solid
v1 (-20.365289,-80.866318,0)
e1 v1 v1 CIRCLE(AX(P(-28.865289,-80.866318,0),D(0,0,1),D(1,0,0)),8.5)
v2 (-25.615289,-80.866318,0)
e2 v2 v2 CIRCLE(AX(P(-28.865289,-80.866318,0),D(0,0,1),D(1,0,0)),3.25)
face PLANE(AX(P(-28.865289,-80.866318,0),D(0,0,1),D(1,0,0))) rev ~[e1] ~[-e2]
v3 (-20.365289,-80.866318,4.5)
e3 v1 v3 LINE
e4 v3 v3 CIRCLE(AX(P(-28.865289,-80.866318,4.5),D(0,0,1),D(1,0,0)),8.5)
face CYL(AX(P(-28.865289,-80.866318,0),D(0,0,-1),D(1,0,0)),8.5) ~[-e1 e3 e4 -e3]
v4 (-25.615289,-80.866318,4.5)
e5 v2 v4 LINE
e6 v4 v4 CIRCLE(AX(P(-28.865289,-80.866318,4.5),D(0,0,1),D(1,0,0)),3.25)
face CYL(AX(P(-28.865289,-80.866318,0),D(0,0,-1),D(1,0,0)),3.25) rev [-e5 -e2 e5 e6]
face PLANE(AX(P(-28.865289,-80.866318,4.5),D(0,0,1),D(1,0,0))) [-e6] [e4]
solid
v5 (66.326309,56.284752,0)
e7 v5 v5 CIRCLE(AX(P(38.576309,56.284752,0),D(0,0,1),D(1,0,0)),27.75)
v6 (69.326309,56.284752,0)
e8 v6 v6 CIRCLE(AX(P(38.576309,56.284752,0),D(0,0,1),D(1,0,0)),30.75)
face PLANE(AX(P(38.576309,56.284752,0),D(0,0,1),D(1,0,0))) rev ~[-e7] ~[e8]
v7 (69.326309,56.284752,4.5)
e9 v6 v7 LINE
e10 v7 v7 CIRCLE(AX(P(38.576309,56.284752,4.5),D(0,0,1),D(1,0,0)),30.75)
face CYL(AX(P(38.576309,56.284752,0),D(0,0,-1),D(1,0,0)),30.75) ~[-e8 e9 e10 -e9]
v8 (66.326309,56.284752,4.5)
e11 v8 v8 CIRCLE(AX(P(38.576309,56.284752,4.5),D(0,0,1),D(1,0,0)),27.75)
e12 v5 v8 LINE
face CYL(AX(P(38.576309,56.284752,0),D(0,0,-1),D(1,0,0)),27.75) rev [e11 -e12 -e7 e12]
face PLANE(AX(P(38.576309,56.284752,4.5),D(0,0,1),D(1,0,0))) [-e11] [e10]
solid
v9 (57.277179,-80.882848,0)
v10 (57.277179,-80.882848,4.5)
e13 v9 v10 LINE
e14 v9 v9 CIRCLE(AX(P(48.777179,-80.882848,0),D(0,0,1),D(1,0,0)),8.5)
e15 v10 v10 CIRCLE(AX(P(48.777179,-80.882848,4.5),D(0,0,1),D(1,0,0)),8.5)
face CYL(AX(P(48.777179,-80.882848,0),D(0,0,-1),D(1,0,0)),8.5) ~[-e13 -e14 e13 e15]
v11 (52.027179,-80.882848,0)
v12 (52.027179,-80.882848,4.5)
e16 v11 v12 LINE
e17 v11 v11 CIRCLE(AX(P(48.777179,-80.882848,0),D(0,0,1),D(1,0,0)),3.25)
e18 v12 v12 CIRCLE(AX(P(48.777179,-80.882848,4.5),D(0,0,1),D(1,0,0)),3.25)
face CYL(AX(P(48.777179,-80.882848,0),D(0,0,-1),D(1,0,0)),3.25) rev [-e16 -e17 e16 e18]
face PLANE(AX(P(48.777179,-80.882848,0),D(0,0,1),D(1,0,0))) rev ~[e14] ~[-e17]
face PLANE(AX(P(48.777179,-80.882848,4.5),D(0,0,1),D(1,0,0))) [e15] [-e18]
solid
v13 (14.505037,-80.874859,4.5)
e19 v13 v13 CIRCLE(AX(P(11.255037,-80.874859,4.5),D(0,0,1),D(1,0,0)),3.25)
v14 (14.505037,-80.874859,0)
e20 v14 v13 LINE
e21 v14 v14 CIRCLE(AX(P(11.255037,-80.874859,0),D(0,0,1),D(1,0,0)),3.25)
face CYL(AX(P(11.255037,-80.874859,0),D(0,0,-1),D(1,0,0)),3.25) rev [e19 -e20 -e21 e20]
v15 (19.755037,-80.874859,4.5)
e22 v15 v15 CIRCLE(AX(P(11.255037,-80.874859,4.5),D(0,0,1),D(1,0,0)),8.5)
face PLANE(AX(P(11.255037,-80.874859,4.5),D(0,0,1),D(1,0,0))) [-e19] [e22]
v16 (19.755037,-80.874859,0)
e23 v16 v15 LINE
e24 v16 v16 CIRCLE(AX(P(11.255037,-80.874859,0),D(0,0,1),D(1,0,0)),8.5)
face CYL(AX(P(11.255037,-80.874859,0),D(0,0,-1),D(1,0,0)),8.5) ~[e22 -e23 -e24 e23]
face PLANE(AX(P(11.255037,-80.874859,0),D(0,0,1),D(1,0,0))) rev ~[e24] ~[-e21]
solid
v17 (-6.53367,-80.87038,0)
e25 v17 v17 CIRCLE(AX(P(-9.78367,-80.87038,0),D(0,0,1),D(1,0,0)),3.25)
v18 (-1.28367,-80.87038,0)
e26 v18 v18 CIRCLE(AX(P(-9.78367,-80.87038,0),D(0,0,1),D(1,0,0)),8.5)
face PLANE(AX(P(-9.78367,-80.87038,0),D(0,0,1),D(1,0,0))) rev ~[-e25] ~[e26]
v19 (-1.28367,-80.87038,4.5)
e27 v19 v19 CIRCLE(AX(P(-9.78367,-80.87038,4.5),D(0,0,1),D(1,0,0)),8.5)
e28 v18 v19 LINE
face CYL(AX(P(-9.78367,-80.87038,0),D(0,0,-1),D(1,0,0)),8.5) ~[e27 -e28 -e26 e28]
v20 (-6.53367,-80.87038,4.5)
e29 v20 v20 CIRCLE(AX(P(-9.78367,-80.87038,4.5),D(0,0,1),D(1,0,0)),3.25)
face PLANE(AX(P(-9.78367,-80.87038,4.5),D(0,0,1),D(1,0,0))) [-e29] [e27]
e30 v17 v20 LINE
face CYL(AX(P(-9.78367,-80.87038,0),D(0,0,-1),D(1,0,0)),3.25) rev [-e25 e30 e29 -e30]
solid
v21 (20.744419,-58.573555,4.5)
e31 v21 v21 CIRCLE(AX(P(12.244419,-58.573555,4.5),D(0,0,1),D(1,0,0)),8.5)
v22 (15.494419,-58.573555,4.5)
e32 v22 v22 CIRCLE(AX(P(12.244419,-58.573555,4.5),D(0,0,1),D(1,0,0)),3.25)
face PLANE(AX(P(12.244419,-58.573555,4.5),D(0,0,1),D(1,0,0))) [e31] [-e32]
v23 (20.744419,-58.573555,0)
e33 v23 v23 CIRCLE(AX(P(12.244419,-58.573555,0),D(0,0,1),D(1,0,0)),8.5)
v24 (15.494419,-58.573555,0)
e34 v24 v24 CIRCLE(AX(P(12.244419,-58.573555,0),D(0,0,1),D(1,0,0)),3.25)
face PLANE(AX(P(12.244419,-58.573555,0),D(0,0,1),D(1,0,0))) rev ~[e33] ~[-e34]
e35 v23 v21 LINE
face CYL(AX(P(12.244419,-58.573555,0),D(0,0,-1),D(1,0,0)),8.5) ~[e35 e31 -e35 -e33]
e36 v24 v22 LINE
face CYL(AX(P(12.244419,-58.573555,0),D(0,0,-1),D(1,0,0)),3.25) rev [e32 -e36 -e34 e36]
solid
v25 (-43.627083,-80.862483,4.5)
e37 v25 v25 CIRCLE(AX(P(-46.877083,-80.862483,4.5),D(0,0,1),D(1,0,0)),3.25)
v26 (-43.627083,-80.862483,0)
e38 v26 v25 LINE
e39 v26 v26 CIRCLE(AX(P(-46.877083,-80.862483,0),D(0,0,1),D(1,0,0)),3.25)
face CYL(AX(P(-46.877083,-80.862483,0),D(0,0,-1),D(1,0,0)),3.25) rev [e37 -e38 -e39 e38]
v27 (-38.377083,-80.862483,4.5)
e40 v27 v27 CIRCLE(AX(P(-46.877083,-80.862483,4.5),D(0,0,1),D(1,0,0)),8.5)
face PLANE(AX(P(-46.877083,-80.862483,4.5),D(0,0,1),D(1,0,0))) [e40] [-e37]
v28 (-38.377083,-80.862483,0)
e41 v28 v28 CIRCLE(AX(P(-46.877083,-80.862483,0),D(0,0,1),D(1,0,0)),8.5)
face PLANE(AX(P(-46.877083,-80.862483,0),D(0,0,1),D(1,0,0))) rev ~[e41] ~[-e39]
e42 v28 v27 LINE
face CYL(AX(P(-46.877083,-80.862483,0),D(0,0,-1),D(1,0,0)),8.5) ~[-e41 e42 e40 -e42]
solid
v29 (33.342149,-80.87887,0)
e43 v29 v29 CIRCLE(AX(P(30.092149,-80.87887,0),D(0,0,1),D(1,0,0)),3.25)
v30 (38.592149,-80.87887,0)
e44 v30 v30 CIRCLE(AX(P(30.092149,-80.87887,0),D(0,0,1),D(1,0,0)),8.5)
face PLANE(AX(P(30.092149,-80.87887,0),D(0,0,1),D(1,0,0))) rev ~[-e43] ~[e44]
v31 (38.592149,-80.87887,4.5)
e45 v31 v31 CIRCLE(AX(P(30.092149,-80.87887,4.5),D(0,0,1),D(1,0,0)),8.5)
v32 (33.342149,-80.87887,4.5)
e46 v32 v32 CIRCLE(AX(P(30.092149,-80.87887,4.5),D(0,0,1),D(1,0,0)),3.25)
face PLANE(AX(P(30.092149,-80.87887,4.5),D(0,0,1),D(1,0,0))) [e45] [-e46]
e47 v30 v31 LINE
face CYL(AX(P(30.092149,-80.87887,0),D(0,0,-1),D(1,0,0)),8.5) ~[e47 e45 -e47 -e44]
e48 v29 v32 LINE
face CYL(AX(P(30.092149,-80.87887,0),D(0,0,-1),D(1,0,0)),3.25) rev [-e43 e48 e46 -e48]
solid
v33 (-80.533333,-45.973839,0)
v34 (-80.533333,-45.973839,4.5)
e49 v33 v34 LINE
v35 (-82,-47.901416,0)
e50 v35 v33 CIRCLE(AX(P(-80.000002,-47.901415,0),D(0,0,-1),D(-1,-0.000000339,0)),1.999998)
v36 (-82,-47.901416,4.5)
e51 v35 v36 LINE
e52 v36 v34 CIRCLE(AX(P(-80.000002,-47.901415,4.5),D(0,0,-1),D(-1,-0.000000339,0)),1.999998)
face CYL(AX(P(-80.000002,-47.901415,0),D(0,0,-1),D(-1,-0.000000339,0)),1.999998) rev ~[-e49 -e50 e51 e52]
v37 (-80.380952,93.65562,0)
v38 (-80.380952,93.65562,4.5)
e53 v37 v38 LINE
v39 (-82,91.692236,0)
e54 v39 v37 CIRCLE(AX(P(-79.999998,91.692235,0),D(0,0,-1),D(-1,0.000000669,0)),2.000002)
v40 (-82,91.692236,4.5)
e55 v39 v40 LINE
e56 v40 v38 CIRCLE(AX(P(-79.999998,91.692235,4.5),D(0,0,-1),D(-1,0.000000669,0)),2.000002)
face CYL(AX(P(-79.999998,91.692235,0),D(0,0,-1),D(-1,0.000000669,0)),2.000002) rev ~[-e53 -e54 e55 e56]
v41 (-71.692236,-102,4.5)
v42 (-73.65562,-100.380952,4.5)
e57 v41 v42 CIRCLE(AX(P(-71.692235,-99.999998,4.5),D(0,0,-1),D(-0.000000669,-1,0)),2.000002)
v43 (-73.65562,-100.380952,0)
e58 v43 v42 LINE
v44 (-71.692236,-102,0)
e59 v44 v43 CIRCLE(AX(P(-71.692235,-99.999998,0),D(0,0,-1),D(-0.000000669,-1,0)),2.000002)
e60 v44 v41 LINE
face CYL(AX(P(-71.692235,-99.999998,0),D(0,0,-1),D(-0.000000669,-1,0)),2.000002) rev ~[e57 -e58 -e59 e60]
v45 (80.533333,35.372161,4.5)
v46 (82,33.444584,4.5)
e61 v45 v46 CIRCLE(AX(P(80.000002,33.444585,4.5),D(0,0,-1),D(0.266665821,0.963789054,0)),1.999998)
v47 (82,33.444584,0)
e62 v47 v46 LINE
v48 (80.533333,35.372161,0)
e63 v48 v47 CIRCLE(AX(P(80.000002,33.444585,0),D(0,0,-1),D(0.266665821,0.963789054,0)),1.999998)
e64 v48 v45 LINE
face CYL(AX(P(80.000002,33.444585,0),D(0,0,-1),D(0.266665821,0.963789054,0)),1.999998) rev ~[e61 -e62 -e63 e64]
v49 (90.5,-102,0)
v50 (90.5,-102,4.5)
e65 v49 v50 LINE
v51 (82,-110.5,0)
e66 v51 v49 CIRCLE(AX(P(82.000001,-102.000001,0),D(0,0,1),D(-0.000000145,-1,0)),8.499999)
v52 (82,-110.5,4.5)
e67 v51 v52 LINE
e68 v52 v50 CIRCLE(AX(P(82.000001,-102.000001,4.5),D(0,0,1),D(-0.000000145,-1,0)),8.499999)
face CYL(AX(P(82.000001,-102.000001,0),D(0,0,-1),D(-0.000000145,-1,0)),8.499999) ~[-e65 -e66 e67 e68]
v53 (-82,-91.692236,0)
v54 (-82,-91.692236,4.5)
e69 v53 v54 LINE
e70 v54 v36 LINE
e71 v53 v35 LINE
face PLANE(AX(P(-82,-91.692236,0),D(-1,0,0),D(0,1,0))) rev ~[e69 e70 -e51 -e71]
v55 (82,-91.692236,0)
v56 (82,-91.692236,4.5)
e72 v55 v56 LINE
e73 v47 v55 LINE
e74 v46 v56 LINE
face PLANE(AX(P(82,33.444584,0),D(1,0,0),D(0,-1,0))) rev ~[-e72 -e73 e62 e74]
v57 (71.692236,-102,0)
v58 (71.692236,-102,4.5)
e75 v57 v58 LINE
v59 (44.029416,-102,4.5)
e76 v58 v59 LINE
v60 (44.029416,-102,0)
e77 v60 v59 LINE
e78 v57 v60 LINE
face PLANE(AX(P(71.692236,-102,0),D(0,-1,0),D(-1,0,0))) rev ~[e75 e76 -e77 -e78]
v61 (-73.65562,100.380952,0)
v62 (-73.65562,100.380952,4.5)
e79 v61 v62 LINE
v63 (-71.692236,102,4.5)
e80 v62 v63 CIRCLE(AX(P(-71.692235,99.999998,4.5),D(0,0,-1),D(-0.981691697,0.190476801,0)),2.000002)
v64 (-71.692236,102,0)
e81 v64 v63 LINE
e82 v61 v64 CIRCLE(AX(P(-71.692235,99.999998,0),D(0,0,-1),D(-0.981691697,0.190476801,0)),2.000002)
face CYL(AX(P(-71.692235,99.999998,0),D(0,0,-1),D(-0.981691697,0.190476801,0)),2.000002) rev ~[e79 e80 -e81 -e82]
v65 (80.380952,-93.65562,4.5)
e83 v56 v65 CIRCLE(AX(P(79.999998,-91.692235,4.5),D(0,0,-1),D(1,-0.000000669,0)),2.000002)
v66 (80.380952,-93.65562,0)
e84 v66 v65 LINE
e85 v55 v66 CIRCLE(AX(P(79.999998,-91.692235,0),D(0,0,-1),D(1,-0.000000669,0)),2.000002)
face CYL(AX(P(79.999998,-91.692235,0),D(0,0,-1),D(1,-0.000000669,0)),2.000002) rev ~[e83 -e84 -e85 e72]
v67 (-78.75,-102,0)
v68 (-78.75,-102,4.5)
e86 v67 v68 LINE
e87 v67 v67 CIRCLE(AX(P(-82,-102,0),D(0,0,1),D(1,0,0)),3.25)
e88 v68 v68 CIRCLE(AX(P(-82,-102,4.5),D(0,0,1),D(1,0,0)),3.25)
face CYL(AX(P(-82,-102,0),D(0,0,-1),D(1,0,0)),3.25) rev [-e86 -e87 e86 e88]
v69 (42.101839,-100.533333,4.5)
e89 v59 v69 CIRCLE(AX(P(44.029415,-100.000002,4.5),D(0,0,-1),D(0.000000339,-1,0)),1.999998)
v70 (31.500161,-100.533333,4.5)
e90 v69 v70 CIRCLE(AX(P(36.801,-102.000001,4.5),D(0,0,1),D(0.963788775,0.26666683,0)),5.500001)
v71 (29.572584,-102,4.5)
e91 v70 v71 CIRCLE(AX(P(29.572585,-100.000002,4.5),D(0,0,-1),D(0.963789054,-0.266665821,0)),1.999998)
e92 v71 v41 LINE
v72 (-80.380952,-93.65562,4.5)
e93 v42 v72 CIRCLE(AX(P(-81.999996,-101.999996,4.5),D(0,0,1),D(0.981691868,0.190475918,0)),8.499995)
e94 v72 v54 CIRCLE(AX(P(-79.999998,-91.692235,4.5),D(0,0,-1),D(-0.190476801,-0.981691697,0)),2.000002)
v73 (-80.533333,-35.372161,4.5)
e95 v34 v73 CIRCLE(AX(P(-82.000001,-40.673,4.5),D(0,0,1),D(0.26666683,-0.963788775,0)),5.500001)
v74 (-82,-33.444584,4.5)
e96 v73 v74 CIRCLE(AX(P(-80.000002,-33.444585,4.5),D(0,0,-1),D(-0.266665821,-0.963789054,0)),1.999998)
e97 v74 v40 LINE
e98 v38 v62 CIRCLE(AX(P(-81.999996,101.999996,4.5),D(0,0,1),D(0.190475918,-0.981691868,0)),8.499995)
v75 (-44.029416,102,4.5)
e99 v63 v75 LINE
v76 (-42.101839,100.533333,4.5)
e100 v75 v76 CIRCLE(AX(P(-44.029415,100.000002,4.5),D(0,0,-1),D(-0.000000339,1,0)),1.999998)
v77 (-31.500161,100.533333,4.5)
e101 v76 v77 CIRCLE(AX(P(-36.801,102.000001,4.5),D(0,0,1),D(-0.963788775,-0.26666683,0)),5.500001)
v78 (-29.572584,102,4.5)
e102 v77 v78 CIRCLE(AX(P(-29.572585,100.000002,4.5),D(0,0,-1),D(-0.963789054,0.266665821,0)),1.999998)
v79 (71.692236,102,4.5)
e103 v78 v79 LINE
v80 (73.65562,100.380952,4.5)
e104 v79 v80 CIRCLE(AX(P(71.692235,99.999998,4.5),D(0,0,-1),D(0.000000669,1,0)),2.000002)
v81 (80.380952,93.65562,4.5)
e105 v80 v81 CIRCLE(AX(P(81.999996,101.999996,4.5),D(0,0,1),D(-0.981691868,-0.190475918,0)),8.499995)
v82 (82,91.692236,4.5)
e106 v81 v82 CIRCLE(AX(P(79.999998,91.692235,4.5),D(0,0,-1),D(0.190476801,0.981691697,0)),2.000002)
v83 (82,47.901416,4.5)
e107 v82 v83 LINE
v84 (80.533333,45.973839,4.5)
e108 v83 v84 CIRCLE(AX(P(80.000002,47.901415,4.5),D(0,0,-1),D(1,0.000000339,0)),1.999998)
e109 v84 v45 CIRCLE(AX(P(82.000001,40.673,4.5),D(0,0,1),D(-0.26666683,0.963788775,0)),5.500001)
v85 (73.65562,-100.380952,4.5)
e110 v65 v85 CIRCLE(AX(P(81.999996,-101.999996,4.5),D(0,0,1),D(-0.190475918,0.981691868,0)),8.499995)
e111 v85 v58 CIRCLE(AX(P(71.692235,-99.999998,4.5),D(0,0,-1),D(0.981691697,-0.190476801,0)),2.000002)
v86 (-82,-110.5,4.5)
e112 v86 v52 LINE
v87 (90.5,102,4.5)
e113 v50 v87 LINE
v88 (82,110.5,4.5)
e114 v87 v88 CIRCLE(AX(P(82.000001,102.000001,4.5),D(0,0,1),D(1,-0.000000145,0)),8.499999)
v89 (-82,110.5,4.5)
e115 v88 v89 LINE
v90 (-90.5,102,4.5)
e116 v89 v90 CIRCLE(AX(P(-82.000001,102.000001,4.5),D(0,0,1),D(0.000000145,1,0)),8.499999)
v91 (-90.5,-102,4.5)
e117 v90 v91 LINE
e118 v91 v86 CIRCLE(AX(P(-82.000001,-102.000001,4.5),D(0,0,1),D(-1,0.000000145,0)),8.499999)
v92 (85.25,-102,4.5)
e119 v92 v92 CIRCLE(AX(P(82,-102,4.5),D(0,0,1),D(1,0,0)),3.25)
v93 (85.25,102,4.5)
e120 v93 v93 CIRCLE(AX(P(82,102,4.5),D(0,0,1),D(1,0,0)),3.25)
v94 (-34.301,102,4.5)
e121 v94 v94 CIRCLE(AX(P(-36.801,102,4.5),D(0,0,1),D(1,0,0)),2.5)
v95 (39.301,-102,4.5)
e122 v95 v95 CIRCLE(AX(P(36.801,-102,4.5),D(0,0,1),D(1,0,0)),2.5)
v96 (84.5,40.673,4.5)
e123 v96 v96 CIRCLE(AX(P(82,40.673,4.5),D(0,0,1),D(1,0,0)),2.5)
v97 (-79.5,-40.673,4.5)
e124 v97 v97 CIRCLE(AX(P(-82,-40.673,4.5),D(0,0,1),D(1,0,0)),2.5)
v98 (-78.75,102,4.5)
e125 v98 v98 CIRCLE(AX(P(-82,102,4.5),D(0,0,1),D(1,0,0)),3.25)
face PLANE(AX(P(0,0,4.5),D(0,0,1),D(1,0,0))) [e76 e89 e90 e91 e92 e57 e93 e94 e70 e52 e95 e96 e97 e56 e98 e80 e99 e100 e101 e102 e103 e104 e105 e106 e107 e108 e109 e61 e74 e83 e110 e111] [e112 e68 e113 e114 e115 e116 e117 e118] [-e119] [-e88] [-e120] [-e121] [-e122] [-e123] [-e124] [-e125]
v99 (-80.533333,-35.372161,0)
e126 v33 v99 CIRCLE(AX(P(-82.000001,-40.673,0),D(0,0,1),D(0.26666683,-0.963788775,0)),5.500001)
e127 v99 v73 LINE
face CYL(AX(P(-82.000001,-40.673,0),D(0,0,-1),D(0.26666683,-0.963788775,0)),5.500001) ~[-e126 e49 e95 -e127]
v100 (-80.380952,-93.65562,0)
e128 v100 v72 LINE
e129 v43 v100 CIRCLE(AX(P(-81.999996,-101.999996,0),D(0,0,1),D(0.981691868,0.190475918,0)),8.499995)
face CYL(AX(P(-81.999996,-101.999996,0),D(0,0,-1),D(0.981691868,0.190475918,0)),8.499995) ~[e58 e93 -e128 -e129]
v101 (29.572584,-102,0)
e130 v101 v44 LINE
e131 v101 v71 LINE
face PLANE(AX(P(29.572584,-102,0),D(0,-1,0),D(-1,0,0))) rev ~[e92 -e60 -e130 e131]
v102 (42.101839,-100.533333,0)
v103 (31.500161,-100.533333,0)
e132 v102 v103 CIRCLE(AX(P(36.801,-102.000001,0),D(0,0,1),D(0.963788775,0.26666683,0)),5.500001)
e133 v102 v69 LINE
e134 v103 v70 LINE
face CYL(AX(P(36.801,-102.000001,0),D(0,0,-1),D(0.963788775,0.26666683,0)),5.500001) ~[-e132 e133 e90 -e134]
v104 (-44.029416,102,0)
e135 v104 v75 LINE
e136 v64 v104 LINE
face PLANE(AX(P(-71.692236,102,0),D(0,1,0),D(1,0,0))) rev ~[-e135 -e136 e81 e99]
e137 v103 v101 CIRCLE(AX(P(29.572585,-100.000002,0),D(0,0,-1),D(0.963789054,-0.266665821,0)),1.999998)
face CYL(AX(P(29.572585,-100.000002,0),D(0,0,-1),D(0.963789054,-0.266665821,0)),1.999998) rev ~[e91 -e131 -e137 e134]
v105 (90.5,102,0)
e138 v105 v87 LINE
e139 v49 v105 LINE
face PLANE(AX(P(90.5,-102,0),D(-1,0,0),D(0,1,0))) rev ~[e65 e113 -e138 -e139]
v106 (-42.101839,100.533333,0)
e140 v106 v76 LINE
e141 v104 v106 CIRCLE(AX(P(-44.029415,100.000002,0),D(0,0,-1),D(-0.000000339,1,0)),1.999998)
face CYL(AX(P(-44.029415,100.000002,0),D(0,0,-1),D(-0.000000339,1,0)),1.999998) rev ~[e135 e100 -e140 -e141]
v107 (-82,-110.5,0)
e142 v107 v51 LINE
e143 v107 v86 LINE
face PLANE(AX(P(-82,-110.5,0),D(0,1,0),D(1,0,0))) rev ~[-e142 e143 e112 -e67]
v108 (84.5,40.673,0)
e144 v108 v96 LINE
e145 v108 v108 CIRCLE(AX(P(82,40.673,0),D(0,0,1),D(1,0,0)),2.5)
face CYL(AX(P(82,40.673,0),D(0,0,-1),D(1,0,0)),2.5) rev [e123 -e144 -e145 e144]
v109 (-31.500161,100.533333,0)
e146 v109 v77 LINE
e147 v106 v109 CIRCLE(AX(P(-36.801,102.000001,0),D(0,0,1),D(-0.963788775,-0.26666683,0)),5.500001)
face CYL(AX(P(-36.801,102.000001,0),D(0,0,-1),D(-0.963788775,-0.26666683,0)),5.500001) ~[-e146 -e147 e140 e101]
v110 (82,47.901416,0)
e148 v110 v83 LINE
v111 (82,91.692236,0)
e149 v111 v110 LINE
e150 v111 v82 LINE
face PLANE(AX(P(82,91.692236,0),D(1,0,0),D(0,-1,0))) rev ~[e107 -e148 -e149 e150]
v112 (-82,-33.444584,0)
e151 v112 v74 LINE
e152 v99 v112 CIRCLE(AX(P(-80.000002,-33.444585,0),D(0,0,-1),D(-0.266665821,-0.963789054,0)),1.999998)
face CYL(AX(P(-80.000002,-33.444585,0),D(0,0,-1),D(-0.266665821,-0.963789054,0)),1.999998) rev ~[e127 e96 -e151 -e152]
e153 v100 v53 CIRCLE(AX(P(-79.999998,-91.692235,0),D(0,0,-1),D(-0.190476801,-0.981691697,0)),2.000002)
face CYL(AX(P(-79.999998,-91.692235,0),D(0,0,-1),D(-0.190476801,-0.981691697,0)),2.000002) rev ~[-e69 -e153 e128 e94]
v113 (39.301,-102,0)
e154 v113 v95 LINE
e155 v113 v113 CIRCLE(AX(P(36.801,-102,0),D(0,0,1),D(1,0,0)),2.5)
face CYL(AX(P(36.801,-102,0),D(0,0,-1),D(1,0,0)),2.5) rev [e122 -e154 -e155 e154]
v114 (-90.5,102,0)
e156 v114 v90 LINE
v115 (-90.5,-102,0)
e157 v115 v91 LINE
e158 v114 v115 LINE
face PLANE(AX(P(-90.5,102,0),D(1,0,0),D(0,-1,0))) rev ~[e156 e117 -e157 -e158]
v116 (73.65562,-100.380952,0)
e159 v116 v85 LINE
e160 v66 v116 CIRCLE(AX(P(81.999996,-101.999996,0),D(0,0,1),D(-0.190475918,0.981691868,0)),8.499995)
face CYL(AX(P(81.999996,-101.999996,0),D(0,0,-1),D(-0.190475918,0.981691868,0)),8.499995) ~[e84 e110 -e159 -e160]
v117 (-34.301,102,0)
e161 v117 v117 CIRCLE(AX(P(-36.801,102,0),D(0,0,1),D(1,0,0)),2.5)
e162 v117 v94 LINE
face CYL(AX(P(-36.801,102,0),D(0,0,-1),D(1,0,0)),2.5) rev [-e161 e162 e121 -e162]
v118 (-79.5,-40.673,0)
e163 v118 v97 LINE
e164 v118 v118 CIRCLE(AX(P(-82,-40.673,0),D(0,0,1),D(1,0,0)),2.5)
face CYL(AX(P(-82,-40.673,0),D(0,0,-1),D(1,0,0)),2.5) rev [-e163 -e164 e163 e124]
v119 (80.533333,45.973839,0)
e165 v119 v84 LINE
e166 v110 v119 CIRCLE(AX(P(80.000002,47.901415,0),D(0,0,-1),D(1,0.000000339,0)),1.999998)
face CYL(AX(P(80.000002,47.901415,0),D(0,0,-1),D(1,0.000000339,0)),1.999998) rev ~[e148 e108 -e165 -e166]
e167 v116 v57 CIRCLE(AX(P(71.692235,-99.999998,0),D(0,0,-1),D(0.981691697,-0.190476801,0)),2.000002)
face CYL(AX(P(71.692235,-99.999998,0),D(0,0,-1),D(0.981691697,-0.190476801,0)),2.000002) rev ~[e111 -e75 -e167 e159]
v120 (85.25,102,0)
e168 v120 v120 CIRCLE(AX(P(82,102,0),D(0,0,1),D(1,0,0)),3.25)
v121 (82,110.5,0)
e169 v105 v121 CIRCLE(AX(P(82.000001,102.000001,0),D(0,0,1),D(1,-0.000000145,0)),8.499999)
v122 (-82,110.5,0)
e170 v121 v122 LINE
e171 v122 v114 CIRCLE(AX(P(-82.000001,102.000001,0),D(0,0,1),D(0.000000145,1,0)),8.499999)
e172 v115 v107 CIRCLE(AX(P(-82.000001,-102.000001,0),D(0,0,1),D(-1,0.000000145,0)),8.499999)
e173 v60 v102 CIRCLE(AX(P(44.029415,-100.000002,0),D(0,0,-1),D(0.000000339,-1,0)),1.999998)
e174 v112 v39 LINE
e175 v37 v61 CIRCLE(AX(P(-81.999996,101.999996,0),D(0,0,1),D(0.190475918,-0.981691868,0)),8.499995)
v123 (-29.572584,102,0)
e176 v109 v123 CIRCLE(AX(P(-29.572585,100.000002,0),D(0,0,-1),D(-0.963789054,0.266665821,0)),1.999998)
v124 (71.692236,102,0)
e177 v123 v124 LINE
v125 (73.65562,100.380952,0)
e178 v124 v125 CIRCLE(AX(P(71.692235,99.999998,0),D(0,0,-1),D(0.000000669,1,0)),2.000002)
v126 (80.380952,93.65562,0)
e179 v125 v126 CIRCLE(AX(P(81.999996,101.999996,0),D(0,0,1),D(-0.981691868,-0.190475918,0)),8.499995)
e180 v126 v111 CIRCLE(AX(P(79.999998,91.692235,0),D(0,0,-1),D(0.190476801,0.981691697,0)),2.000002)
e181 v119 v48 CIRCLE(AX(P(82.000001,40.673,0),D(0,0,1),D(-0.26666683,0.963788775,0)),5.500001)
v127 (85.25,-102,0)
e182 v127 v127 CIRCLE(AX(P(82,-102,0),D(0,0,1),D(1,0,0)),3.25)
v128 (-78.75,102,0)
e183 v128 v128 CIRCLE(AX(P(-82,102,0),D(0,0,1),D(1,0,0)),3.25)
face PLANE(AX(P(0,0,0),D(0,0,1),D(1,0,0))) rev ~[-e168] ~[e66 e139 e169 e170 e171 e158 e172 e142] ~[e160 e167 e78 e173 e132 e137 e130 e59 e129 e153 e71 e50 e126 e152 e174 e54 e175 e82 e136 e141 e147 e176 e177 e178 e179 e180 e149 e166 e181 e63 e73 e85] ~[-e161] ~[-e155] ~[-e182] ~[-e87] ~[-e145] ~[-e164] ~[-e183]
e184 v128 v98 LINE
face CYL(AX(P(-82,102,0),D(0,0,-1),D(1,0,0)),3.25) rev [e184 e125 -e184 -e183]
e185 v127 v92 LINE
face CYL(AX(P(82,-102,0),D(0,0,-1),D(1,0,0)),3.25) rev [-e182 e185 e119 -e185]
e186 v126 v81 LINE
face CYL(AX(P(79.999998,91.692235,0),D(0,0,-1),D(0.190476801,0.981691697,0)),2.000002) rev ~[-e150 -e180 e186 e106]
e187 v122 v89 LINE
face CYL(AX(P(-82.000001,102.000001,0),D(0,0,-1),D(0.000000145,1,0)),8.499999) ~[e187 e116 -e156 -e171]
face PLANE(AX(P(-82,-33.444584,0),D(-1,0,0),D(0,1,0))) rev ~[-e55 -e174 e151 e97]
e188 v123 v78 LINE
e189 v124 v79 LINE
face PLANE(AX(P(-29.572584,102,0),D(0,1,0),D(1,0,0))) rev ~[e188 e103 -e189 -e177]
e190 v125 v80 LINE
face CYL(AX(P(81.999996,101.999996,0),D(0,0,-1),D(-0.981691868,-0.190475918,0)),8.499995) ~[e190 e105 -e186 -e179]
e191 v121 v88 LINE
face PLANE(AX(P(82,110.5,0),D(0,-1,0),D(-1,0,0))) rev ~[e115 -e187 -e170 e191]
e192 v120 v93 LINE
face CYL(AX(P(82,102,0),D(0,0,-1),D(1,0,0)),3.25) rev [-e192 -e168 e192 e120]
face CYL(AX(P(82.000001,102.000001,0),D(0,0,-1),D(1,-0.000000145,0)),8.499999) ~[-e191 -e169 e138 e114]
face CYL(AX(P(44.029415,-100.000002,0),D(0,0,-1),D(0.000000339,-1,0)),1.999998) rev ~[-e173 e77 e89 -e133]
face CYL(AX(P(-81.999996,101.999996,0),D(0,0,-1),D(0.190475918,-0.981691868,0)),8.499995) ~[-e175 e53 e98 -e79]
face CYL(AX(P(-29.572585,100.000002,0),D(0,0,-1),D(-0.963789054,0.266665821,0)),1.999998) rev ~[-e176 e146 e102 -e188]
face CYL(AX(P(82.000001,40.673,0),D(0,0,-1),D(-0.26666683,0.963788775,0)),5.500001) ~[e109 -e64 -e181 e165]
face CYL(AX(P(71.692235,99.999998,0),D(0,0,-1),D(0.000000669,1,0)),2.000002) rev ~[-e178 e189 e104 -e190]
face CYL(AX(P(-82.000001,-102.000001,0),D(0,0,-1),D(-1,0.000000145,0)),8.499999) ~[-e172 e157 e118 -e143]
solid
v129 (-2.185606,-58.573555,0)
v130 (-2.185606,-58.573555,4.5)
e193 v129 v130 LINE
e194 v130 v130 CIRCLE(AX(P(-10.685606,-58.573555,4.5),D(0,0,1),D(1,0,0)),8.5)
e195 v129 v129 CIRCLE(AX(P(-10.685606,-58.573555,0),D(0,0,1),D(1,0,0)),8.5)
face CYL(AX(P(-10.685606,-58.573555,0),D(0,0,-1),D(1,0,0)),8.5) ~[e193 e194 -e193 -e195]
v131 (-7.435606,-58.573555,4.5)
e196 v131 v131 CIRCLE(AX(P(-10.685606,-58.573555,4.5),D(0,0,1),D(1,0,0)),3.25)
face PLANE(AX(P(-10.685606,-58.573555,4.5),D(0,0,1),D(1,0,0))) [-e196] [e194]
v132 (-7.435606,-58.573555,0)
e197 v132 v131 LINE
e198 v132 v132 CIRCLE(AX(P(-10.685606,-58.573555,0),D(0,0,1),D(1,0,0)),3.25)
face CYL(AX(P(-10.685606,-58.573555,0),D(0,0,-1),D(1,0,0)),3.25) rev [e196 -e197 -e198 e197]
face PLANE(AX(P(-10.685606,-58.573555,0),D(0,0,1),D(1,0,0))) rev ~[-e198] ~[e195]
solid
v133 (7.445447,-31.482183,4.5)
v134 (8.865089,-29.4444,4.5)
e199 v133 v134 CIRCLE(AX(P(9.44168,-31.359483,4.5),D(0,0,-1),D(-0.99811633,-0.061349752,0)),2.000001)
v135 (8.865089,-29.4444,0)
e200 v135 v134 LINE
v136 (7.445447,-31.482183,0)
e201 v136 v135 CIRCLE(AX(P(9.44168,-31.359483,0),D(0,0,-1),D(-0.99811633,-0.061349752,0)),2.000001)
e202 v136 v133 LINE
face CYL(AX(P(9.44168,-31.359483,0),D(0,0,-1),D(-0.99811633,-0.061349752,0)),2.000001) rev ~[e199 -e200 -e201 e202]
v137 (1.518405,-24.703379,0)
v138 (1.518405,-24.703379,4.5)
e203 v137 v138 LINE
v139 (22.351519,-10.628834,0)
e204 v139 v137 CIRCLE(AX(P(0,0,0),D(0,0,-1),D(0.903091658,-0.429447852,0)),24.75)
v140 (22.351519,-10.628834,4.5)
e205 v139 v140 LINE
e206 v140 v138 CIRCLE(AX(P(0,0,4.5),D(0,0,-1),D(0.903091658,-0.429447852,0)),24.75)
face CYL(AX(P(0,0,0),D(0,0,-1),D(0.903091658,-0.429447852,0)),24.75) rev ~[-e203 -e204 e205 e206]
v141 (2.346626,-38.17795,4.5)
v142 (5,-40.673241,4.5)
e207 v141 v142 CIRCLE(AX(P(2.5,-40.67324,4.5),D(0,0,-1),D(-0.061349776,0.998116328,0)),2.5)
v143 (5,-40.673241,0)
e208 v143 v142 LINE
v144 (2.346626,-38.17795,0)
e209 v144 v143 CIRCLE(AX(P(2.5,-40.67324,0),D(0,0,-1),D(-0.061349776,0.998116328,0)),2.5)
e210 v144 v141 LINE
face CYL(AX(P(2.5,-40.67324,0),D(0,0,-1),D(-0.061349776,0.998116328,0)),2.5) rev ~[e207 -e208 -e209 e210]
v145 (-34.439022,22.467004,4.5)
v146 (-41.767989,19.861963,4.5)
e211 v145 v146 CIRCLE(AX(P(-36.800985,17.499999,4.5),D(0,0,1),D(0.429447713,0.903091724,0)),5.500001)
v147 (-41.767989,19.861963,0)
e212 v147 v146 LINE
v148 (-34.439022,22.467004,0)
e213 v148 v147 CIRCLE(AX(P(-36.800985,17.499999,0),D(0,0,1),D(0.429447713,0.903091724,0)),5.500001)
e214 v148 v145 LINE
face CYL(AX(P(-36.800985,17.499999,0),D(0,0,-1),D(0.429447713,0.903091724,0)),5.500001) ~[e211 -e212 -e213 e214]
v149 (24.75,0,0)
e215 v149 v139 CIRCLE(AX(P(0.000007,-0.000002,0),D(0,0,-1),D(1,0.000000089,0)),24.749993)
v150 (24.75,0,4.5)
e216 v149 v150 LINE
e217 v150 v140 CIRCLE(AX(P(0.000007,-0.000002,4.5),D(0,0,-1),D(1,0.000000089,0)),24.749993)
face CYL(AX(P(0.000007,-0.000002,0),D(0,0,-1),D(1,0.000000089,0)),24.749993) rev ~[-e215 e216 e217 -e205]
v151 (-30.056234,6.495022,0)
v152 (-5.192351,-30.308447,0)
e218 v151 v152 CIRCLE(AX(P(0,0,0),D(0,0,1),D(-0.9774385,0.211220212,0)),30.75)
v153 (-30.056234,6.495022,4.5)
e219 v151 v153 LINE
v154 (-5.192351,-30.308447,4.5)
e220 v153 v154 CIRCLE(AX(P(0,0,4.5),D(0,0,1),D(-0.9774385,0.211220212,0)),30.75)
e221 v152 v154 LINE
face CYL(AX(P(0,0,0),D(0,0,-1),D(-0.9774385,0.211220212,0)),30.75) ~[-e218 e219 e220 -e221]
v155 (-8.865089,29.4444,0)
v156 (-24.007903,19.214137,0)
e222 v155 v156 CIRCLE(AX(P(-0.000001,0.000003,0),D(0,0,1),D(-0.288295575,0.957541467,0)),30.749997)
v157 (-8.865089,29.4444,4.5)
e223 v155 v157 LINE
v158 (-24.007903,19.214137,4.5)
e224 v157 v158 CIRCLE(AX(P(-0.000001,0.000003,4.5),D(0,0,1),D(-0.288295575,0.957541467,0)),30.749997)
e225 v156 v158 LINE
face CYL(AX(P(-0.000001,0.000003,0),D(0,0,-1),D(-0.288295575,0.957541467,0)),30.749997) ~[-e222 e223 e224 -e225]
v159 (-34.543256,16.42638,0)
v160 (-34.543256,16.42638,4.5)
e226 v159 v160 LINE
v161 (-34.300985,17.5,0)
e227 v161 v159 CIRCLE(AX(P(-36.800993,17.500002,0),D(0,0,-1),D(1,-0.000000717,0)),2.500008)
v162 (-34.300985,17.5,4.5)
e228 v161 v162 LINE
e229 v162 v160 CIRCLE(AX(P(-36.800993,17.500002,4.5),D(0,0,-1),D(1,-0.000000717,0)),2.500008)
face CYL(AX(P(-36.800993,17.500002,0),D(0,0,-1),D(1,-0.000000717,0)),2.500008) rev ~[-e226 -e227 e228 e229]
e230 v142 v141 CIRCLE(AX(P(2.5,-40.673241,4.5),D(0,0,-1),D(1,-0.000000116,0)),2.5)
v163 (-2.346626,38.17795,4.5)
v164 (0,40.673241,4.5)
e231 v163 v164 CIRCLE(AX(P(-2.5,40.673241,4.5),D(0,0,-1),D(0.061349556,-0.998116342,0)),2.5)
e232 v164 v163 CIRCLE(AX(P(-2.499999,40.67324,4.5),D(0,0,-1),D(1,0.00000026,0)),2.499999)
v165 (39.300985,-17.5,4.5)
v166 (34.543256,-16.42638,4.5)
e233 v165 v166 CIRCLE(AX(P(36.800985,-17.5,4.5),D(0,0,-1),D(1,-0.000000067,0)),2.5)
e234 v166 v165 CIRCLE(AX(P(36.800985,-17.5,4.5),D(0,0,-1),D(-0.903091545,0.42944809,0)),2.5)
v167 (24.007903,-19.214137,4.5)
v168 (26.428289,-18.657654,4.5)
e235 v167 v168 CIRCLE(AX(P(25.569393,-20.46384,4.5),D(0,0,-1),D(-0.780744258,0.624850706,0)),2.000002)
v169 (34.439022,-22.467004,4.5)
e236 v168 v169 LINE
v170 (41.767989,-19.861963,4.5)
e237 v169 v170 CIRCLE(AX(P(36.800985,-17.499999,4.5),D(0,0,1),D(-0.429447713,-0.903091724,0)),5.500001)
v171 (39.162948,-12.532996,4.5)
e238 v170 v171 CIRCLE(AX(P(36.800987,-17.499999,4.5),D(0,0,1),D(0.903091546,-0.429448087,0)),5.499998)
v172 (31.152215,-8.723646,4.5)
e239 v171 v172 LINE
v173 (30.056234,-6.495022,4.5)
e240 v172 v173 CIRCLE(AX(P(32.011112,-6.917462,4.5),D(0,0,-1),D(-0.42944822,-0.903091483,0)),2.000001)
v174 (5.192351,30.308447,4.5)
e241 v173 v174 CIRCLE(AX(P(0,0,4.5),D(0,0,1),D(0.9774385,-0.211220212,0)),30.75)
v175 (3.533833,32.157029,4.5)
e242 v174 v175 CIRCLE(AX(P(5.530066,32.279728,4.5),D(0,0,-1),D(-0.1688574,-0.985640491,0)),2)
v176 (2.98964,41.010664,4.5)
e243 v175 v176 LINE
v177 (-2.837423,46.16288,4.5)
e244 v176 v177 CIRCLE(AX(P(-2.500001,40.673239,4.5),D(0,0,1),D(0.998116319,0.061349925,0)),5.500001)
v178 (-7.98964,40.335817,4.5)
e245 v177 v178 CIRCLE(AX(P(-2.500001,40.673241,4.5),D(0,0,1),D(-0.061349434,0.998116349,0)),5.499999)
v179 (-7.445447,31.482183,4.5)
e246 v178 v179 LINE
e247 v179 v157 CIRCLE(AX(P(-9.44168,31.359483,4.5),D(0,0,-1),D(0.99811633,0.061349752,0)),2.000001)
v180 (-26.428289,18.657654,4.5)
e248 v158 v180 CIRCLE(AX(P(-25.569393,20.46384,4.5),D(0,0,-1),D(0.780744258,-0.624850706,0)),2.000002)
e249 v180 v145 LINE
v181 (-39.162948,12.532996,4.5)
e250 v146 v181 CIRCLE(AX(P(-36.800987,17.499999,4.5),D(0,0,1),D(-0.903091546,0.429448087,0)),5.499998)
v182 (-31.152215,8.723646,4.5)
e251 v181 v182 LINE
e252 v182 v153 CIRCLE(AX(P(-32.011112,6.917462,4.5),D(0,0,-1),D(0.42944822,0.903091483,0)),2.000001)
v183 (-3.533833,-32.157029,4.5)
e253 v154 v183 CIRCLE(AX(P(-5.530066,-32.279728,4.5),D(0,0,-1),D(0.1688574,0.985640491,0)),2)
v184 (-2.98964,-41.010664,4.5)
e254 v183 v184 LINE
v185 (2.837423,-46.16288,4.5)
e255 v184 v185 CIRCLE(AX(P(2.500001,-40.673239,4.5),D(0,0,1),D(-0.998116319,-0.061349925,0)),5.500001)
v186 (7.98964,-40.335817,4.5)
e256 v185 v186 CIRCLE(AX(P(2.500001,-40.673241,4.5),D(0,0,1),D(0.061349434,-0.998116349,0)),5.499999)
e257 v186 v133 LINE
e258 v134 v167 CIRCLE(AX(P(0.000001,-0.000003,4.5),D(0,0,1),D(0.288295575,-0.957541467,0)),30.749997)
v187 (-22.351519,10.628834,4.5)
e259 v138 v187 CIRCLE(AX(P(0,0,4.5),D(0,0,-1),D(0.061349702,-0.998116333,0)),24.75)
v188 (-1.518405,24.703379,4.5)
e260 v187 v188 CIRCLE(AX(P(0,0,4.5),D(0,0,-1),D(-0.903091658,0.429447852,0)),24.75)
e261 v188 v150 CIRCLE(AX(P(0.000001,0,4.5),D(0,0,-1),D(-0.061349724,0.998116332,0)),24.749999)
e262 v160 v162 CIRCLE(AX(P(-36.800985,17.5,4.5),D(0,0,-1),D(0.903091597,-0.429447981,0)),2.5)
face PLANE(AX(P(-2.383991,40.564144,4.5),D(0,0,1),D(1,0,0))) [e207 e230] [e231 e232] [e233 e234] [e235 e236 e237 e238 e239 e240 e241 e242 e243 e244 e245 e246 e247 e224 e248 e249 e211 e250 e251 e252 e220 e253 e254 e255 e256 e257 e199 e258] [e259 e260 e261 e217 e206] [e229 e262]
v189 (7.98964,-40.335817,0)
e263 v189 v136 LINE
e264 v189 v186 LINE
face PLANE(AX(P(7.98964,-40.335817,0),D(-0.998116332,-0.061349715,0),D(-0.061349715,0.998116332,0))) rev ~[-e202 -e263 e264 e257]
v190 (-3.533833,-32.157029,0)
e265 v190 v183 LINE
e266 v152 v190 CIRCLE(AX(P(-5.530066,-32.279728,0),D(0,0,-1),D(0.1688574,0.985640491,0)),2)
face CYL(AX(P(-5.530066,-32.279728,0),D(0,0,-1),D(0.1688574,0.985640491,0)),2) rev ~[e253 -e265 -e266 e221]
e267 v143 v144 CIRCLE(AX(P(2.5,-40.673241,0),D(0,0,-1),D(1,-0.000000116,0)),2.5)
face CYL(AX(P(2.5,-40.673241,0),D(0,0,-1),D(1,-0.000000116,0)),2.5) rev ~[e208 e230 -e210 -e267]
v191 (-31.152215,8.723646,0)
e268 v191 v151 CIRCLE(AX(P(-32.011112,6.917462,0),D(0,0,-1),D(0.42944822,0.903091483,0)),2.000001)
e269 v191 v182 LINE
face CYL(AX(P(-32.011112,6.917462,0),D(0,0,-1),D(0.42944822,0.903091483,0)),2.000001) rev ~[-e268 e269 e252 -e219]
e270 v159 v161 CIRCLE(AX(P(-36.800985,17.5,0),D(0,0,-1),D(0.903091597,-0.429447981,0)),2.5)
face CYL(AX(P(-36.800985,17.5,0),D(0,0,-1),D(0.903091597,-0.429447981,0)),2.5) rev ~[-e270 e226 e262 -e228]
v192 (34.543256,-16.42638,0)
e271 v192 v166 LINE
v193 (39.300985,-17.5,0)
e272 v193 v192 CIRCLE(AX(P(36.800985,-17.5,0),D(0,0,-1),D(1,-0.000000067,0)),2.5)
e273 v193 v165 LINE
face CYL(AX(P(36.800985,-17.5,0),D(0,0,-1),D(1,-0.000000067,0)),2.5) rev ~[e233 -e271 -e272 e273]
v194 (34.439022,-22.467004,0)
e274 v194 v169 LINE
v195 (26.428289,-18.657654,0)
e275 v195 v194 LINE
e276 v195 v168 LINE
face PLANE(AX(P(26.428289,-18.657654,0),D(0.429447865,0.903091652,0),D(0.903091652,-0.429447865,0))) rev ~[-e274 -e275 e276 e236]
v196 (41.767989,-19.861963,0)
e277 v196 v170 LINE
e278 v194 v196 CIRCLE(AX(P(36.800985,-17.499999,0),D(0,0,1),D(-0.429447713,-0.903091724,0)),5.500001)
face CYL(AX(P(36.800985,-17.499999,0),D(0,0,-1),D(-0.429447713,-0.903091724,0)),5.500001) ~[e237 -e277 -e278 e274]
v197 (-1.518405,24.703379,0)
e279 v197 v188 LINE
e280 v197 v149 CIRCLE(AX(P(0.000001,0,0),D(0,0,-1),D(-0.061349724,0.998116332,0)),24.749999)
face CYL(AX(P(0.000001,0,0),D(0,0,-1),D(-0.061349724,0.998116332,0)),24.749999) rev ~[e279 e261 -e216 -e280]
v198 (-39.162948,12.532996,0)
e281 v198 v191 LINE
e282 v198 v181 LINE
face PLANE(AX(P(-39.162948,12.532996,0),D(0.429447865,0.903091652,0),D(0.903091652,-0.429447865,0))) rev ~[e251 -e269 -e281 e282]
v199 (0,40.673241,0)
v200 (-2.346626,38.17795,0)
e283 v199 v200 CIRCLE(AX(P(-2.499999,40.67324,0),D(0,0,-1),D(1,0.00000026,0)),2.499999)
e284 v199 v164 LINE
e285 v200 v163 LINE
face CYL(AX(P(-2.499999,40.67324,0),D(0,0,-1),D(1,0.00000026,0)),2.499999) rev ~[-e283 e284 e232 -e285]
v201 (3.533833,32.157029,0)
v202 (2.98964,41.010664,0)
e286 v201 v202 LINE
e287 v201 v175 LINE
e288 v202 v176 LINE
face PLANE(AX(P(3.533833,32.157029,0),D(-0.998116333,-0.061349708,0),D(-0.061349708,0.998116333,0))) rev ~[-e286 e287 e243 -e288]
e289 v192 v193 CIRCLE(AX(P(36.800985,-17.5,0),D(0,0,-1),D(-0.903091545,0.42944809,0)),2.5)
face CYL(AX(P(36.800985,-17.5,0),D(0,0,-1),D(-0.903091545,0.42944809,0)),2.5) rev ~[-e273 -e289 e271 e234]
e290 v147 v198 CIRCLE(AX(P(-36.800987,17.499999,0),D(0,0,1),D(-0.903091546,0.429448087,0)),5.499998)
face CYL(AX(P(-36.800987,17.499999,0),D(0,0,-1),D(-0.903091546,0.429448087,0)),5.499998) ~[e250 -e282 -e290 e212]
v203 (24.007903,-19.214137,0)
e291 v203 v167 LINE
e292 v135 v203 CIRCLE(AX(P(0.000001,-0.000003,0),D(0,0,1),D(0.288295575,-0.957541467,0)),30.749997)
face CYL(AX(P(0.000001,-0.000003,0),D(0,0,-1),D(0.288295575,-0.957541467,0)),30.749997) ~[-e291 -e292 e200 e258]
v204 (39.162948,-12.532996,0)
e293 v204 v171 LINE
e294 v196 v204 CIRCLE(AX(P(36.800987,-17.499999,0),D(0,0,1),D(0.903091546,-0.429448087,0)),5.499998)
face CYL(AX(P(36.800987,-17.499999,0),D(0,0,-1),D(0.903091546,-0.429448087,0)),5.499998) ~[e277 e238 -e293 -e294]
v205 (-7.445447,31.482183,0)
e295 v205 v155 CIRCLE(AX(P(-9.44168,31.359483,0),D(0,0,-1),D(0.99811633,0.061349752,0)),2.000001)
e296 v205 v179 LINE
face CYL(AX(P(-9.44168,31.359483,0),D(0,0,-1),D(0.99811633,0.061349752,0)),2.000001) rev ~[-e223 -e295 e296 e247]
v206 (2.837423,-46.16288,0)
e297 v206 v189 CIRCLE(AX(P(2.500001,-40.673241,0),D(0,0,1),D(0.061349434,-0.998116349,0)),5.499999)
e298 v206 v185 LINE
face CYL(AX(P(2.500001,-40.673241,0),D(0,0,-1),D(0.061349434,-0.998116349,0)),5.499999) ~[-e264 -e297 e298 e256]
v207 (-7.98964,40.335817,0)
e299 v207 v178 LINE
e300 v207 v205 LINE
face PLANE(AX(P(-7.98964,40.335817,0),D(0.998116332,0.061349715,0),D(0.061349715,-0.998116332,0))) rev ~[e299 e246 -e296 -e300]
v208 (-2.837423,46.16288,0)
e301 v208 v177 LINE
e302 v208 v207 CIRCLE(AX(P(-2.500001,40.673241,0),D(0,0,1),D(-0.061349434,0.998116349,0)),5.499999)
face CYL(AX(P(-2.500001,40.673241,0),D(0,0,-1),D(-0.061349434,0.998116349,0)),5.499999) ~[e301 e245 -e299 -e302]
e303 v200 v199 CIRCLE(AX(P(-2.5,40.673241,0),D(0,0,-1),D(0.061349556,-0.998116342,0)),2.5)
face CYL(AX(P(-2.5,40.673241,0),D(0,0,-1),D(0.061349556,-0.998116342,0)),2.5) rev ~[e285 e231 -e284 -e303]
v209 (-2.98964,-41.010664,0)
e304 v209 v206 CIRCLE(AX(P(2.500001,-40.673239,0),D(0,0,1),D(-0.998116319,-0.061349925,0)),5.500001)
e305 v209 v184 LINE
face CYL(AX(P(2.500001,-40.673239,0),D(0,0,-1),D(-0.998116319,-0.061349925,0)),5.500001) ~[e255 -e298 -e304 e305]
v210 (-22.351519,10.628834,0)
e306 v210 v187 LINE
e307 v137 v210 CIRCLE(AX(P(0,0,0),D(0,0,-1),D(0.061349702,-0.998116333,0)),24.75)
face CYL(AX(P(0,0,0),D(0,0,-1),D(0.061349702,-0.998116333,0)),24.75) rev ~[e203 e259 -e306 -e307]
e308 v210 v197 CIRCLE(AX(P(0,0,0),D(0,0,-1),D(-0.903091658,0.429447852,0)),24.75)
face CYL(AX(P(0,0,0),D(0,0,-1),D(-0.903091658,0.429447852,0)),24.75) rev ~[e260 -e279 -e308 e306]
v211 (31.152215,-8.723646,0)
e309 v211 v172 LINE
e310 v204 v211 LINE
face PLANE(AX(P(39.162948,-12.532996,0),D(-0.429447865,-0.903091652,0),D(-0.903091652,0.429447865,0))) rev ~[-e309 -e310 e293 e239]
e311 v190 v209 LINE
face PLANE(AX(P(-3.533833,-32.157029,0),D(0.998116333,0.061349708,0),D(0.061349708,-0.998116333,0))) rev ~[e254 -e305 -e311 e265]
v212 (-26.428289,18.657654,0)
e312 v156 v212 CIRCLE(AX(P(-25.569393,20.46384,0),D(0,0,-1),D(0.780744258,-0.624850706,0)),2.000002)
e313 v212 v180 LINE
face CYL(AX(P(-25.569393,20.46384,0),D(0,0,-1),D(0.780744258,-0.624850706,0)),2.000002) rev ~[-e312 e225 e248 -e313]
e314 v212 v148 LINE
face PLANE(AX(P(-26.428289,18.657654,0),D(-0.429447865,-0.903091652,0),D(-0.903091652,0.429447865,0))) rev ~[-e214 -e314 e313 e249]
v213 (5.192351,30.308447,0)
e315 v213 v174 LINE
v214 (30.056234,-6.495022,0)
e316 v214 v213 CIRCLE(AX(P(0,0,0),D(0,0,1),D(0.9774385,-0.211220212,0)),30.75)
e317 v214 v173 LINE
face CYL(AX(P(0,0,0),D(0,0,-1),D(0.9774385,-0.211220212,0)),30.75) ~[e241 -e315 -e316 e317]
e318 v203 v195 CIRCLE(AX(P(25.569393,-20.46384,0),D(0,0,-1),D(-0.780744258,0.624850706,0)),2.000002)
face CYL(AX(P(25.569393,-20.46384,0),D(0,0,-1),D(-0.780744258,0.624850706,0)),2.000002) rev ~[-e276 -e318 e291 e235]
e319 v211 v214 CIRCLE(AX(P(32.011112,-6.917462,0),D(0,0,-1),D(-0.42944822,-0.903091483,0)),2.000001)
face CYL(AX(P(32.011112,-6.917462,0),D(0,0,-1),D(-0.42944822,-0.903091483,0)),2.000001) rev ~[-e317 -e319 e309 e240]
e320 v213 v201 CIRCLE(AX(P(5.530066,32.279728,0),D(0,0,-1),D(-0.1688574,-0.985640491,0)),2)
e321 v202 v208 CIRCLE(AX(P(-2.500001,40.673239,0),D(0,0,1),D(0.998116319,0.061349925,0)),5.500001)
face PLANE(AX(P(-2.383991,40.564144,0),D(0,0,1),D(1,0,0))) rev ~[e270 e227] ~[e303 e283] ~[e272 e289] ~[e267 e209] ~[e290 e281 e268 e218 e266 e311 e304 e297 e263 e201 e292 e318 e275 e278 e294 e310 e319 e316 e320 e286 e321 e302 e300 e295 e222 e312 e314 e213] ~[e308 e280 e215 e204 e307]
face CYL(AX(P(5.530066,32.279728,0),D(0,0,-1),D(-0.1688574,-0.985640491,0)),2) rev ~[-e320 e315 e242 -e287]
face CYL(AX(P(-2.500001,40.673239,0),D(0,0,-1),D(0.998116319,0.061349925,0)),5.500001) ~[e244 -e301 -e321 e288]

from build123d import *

# Parameters (mm, degrees)
F0_R     = 3.25
F0_R_2   = 2.5
F2_DEPTH = 4.5
F1_R     = 30.75
F1_R_2   = 27.75
F1_R_3   = 8.5
F1_R_4   = 3.25
F3_DEPTH = 4.5


with BuildPart() as f2:
    # F0 (on Top) → F2 (new body)
    with BuildSketch(Plane.XY):
        with BuildLine():
            Line((82, 110.5), (-82, 110.5))
            ThreePointArc((-82, 110.5), (-88.010408, 108.010408), (-90.5, 102))
            Line((-90.5, 102), (-90.5, -102))
            ThreePointArc((-90.5, -102), (-88.010408, -108.010408), (-82, -110.5))
            Line((-82, -110.5), (82, -110.5))
            ThreePointArc((82, -110.5), (88.010408, -108.010408), (90.5, -102))
            Line((90.5, -102), (90.5, 102))
            ThreePointArc((90.5, 102), (88.010408, 108.010408), (82, 110.5))
        make_face()
        with Locations((-82, -102)):
            Circle(F0_R, mode=Mode.SUBTRACT)
        with Locations((-82, -40.673)):
            Circle(F0_R_2, mode=Mode.SUBTRACT)
        with Locations((36.801, -102)):
            Circle(F0_R_2, mode=Mode.SUBTRACT)
        with Locations((82, -102)):
            Circle(F0_R, mode=Mode.SUBTRACT)
        with Locations((-82, 102)):
            Circle(F0_R, mode=Mode.SUBTRACT)
        with Locations((-36.801, 102)):
            Circle(F0_R_2, mode=Mode.SUBTRACT)
        with BuildLine():
            ThreePointArc((-80.380952, 93.65562), (-75.989592, 95.989592), (-73.65562, 100.380952))
            ThreePointArc((-73.65562, 100.380952), (-72.964654, 101.543033), (-71.692236, 102))
            Line((-71.692236, 102), (-44.029416, 102))
            ThreePointArc((-44.029416, 102), (-42.818356, 101.591645), (-42.101839, 100.533333))
            ThreePointArc((-42.101839, 100.533333), (-36.801, 96.5), (-31.500161, 100.533333))
            ThreePointArc((-31.500161, 100.533333), (-30.783644, 101.591645), (-29.572584, 102))
            Line((-29.572584, 102), (71.692236, 102))
            ThreePointArc((71.692236, 102), (72.964654, 101.543033), (73.65562, 100.380952))
            ThreePointArc((73.65562, 100.380952), (75.989592, 95.989592), (80.380952, 93.65562))
            ThreePointArc((80.380952, 93.65562), (81.543033, 92.964654), (82, 91.692236))
            Line((82, 91.692236), (82, 47.901416))
            ThreePointArc((82, 47.901416), (81.591645, 46.690356), (80.533333, 45.973839))
            ThreePointArc((80.533333, 45.973839), (76.5, 40.673), (80.533333, 35.372161))
            ThreePointArc((80.533333, 35.372161), (81.591645, 34.655644), (82, 33.444584))
            Line((82, 33.444584), (82, -91.692236))
            ThreePointArc((82, -91.692236), (81.543033, -92.964654), (80.380952, -93.65562))
            ThreePointArc((80.380952, -93.65562), (75.989592, -95.989592), (73.65562, -100.380952))
            ThreePointArc((73.65562, -100.380952), (72.964654, -101.543033), (71.692236, -102))
            Line((71.692236, -102), (44.029416, -102))
            ThreePointArc((44.029416, -102), (42.818356, -101.591645), (42.101839, -100.533333))
            ThreePointArc((42.101839, -100.533333), (36.801, -96.5), (31.500161, -100.533333))
            ThreePointArc((31.500161, -100.533333), (30.783644, -101.591645), (29.572584, -102))
            Line((29.572584, -102), (-71.692236, -102))
            ThreePointArc((-71.692236, -102), (-72.964654, -101.543033), (-73.65562, -100.380952))
            ThreePointArc((-73.65562, -100.380952), (-75.989592, -95.989592), (-80.380952, -93.65562))
            ThreePointArc((-80.380952, -93.65562), (-81.543033, -92.964654), (-82, -91.692236))
            Line((-82, -91.692236), (-82, -47.901416))
            ThreePointArc((-82, -47.901416), (-81.591645, -46.690356), (-80.533333, -45.973839))
            ThreePointArc((-80.533333, -45.973839), (-76.5, -40.673), (-80.533333, -35.372161))
            ThreePointArc((-80.533333, -35.372161), (-81.591645, -34.655644), (-82, -33.444584))
            Line((-82, -33.444584), (-82, 91.692236))
            ThreePointArc((-82, 91.692236), (-81.543033, 92.964654), (-80.380952, 93.65562))
        make_face(mode=Mode.SUBTRACT)
        with Locations((82, 40.673)):
            Circle(F0_R_2, mode=Mode.SUBTRACT)
        with Locations((82, 102)):
            Circle(F0_R, mode=Mode.SUBTRACT)
    extrude(amount=F2_DEPTH)


with BuildPart() as f3:
    # F1 (on Top) → F3 (new body)
    with BuildSketch(Plane.XY):
        with BuildLine():
            ThreePointArc((0, 40.673241), (-4.321186, 42.385923), (-2.346626, 38.17795))
            ThreePointArc((-2.346626, 38.17795), (-0.678814, 38.960558), (0, 40.673241))
        make_face()
        with BuildLine():
            ThreePointArc((39.300985, -17.5), (37.351293, -15.06132), (34.543256, -16.42638))
            ThreePointArc((34.543256, -16.42638), (36.250677, -19.93868), (39.300985, -17.5))
        make_face()
        with BuildLine():
            ThreePointArc((5, -40.673241), (4.212683, -38.852055), (2.346626, -38.17795))
            ThreePointArc((2.346626, -38.17795), (0.787317, -42.494426), (5, -40.673241))
        make_face()
        with BuildLine():
            ThreePointArc((-34.300985, 17.5), (-39.239665, 18.050308), (-34.543256, 16.42638))
            ThreePointArc((-34.543256, 16.42638), (-34.362305, 16.949692), (-34.300985, 17.5))
        make_face()
        with BuildLine():
            ThreePointArc((-24.007903, 19.214137), (-25.121255, 18.514691), (-26.428289, 18.657654))
            Line((-26.428289, 18.657654), (-34.439022, 22.467004))
            ThreePointArc((-34.439022, 22.467004), (-38.643027, 22.682362), (-41.767989, 19.861963))
            ThreePointArc((-41.767989, 19.861963), (-41.983348, 15.657958), (-39.162948, 12.532996))
            Line((-39.162948, 12.532996), (-31.152215, 8.723646))
            ThreePointArc((-31.152215, 8.723646), (-30.216391, 7.800061), (-30.056234, 6.495022))
            ThreePointArc((-30.056234, 6.495022), (-25.480179, -17.214034), (-5.192351, -30.308447))
            ThreePointArc((-5.192351, -30.308447), (-4.041395, -30.944116), (-3.533833, -32.157029))
            Line((-3.533833, -32.157029), (-2.98964, -41.010664))
            ThreePointArc((-2.98964, -41.010664), (-1.143167, -44.793596), (2.837423, -46.16288))
            ThreePointArc((2.837423, -46.16288), (6.620356, -44.316408), (7.98964, -40.335817))
            Line((7.98964, -40.335817), (7.445447, -31.482183))
            ThreePointArc((7.445447, -31.482183), (7.800645, -30.21624), (8.865089, -29.4444))
            ThreePointArc((8.865089, -29.4444), (17.214034, -25.480179), (24.007903, -19.214137))
            ThreePointArc((24.007903, -19.214137), (25.121255, -18.514691), (26.428289, -18.657654))
            Line((26.428289, -18.657654), (34.439022, -22.467004))
            ThreePointArc((34.439022, -22.467004), (38.643027, -22.682362), (41.767989, -19.861963))
            ThreePointArc((41.767989, -19.861963), (41.983348, -15.657958), (39.162948, -12.532996))
            Line((39.162948, -12.532996), (31.152215, -8.723646))
            ThreePointArc((31.152215, -8.723646), (30.216391, -7.800061), (30.056234, -6.495022))
            ThreePointArc((30.056234, -6.495022), (25.480179, 17.214034), (5.192351, 30.308447))
            ThreePointArc((5.192351, 30.308447), (4.041395, 30.944116), (3.533833, 32.157029))
            Line((3.533833, 32.157029), (2.98964, 41.010664))
            ThreePointArc((2.98964, 41.010664), (1.143167, 44.793596), (-2.837423, 46.16288))
            ThreePointArc((-2.837423, 46.16288), (-6.620356, 44.316408), (-7.98964, 40.335817))
            Line((-7.98964, 40.335817), (-7.445447, 31.482183))
            ThreePointArc((-7.445447, 31.482183), (-7.800645, 30.21624), (-8.865089, 29.4444))
            ThreePointArc((-8.865089, 29.4444), (-17.214034, 25.480179), (-24.007903, 19.214137))
        make_face()
        with BuildLine():
            ThreePointArc((5, -40.673241), (0.787317, -42.494426), (2.346626, -38.17795))
            ThreePointArc((2.346626, -38.17795), (4.212683, -38.852055), (5, -40.673241))
        make_face(mode=Mode.SUBTRACT)
        with BuildLine():
            ThreePointArc((39.300985, -17.5), (36.250677, -19.93868), (34.543256, -16.42638))
            ThreePointArc((34.543256, -16.42638), (37.351293, -15.06132), (39.300985, -17.5))
        make_face(mode=Mode.SUBTRACT)
        with BuildLine():
            ThreePointArc((-34.300985, 17.5), (-34.362305, 16.949692), (-34.543256, 16.42638))
            ThreePointArc((-34.543256, 16.42638), (-39.239665, 18.050308), (-34.300985, 17.5))
        make_face(mode=Mode.SUBTRACT)
        with BuildLine():
            ThreePointArc((1.518405, -24.703379), (-20.508437, -13.855198), (-22.351519, 10.628834))
            ThreePointArc((-22.351519, 10.628834), (-13.855198, 20.508437), (-1.518405, 24.703379))
            ThreePointArc((-1.518405, 24.703379), (16.955559, 18.02974), (24.75, 0))
            ThreePointArc((24.75, 0), (24.142935, -5.448046), (22.351519, -10.628834))
            ThreePointArc((22.351519, -10.628834), (13.855198, -20.508437), (1.518405, -24.703379))
        make_face(mode=Mode.SUBTRACT)
        with BuildLine():
            ThreePointArc((0, 40.673241), (-0.678814, 38.960558), (-2.346626, 38.17795))
            ThreePointArc((-2.346626, 38.17795), (-4.321186, 42.385923), (0, 40.673241))
        make_face(mode=Mode.SUBTRACT)
        with Locations((38.576309, 56.284752)):
            Circle(F1_R)
        with Locations((38.576309, 56.284752)):
            Circle(F1_R_2, mode=Mode.SUBTRACT)
        with Locations((-10.685606, -58.573555)):
            Circle(F1_R_3)
        with Locations((-10.685606, -58.573555)):
            Circle(F1_R_4, mode=Mode.SUBTRACT)
        with Locations((-9.78367, -80.87038)):
            Circle(F1_R_3)
        with Locations((-9.78367, -80.87038)):
            Circle(F1_R_4, mode=Mode.SUBTRACT)
        with Locations((-28.865289, -80.866318)):
            Circle(F1_R_3)
        with Locations((-28.865289, -80.866318)):
            Circle(F1_R_4, mode=Mode.SUBTRACT)
        with Locations((-46.877083, -80.862483)):
            Circle(F1_R_3)
        with Locations((-46.877083, -80.862483)):
            Circle(F1_R_4, mode=Mode.SUBTRACT)
        with Locations((12.244419, -58.573555)):
            Circle(F1_R_3)
        with Locations((12.244419, -58.573555)):
            Circle(F1_R_4, mode=Mode.SUBTRACT)
        with Locations((11.255037, -80.874859)):
            Circle(F1_R_3)
        with Locations((11.255037, -80.874859)):
            Circle(F1_R_4, mode=Mode.SUBTRACT)
        with Locations((30.092149, -80.87887)):
            Circle(F1_R_3)
        with Locations((30.092149, -80.87887)):
            Circle(F1_R_4, mode=Mode.SUBTRACT)
        with Locations((48.777179, -80.882848)):
            Circle(F1_R_3)
        with Locations((48.777179, -80.882848)):
            Circle(F1_R_4, mode=Mode.SUBTRACT)
    extrude(amount=F3_DEPTH)


solid = Compound([f2.part, f3.part])
